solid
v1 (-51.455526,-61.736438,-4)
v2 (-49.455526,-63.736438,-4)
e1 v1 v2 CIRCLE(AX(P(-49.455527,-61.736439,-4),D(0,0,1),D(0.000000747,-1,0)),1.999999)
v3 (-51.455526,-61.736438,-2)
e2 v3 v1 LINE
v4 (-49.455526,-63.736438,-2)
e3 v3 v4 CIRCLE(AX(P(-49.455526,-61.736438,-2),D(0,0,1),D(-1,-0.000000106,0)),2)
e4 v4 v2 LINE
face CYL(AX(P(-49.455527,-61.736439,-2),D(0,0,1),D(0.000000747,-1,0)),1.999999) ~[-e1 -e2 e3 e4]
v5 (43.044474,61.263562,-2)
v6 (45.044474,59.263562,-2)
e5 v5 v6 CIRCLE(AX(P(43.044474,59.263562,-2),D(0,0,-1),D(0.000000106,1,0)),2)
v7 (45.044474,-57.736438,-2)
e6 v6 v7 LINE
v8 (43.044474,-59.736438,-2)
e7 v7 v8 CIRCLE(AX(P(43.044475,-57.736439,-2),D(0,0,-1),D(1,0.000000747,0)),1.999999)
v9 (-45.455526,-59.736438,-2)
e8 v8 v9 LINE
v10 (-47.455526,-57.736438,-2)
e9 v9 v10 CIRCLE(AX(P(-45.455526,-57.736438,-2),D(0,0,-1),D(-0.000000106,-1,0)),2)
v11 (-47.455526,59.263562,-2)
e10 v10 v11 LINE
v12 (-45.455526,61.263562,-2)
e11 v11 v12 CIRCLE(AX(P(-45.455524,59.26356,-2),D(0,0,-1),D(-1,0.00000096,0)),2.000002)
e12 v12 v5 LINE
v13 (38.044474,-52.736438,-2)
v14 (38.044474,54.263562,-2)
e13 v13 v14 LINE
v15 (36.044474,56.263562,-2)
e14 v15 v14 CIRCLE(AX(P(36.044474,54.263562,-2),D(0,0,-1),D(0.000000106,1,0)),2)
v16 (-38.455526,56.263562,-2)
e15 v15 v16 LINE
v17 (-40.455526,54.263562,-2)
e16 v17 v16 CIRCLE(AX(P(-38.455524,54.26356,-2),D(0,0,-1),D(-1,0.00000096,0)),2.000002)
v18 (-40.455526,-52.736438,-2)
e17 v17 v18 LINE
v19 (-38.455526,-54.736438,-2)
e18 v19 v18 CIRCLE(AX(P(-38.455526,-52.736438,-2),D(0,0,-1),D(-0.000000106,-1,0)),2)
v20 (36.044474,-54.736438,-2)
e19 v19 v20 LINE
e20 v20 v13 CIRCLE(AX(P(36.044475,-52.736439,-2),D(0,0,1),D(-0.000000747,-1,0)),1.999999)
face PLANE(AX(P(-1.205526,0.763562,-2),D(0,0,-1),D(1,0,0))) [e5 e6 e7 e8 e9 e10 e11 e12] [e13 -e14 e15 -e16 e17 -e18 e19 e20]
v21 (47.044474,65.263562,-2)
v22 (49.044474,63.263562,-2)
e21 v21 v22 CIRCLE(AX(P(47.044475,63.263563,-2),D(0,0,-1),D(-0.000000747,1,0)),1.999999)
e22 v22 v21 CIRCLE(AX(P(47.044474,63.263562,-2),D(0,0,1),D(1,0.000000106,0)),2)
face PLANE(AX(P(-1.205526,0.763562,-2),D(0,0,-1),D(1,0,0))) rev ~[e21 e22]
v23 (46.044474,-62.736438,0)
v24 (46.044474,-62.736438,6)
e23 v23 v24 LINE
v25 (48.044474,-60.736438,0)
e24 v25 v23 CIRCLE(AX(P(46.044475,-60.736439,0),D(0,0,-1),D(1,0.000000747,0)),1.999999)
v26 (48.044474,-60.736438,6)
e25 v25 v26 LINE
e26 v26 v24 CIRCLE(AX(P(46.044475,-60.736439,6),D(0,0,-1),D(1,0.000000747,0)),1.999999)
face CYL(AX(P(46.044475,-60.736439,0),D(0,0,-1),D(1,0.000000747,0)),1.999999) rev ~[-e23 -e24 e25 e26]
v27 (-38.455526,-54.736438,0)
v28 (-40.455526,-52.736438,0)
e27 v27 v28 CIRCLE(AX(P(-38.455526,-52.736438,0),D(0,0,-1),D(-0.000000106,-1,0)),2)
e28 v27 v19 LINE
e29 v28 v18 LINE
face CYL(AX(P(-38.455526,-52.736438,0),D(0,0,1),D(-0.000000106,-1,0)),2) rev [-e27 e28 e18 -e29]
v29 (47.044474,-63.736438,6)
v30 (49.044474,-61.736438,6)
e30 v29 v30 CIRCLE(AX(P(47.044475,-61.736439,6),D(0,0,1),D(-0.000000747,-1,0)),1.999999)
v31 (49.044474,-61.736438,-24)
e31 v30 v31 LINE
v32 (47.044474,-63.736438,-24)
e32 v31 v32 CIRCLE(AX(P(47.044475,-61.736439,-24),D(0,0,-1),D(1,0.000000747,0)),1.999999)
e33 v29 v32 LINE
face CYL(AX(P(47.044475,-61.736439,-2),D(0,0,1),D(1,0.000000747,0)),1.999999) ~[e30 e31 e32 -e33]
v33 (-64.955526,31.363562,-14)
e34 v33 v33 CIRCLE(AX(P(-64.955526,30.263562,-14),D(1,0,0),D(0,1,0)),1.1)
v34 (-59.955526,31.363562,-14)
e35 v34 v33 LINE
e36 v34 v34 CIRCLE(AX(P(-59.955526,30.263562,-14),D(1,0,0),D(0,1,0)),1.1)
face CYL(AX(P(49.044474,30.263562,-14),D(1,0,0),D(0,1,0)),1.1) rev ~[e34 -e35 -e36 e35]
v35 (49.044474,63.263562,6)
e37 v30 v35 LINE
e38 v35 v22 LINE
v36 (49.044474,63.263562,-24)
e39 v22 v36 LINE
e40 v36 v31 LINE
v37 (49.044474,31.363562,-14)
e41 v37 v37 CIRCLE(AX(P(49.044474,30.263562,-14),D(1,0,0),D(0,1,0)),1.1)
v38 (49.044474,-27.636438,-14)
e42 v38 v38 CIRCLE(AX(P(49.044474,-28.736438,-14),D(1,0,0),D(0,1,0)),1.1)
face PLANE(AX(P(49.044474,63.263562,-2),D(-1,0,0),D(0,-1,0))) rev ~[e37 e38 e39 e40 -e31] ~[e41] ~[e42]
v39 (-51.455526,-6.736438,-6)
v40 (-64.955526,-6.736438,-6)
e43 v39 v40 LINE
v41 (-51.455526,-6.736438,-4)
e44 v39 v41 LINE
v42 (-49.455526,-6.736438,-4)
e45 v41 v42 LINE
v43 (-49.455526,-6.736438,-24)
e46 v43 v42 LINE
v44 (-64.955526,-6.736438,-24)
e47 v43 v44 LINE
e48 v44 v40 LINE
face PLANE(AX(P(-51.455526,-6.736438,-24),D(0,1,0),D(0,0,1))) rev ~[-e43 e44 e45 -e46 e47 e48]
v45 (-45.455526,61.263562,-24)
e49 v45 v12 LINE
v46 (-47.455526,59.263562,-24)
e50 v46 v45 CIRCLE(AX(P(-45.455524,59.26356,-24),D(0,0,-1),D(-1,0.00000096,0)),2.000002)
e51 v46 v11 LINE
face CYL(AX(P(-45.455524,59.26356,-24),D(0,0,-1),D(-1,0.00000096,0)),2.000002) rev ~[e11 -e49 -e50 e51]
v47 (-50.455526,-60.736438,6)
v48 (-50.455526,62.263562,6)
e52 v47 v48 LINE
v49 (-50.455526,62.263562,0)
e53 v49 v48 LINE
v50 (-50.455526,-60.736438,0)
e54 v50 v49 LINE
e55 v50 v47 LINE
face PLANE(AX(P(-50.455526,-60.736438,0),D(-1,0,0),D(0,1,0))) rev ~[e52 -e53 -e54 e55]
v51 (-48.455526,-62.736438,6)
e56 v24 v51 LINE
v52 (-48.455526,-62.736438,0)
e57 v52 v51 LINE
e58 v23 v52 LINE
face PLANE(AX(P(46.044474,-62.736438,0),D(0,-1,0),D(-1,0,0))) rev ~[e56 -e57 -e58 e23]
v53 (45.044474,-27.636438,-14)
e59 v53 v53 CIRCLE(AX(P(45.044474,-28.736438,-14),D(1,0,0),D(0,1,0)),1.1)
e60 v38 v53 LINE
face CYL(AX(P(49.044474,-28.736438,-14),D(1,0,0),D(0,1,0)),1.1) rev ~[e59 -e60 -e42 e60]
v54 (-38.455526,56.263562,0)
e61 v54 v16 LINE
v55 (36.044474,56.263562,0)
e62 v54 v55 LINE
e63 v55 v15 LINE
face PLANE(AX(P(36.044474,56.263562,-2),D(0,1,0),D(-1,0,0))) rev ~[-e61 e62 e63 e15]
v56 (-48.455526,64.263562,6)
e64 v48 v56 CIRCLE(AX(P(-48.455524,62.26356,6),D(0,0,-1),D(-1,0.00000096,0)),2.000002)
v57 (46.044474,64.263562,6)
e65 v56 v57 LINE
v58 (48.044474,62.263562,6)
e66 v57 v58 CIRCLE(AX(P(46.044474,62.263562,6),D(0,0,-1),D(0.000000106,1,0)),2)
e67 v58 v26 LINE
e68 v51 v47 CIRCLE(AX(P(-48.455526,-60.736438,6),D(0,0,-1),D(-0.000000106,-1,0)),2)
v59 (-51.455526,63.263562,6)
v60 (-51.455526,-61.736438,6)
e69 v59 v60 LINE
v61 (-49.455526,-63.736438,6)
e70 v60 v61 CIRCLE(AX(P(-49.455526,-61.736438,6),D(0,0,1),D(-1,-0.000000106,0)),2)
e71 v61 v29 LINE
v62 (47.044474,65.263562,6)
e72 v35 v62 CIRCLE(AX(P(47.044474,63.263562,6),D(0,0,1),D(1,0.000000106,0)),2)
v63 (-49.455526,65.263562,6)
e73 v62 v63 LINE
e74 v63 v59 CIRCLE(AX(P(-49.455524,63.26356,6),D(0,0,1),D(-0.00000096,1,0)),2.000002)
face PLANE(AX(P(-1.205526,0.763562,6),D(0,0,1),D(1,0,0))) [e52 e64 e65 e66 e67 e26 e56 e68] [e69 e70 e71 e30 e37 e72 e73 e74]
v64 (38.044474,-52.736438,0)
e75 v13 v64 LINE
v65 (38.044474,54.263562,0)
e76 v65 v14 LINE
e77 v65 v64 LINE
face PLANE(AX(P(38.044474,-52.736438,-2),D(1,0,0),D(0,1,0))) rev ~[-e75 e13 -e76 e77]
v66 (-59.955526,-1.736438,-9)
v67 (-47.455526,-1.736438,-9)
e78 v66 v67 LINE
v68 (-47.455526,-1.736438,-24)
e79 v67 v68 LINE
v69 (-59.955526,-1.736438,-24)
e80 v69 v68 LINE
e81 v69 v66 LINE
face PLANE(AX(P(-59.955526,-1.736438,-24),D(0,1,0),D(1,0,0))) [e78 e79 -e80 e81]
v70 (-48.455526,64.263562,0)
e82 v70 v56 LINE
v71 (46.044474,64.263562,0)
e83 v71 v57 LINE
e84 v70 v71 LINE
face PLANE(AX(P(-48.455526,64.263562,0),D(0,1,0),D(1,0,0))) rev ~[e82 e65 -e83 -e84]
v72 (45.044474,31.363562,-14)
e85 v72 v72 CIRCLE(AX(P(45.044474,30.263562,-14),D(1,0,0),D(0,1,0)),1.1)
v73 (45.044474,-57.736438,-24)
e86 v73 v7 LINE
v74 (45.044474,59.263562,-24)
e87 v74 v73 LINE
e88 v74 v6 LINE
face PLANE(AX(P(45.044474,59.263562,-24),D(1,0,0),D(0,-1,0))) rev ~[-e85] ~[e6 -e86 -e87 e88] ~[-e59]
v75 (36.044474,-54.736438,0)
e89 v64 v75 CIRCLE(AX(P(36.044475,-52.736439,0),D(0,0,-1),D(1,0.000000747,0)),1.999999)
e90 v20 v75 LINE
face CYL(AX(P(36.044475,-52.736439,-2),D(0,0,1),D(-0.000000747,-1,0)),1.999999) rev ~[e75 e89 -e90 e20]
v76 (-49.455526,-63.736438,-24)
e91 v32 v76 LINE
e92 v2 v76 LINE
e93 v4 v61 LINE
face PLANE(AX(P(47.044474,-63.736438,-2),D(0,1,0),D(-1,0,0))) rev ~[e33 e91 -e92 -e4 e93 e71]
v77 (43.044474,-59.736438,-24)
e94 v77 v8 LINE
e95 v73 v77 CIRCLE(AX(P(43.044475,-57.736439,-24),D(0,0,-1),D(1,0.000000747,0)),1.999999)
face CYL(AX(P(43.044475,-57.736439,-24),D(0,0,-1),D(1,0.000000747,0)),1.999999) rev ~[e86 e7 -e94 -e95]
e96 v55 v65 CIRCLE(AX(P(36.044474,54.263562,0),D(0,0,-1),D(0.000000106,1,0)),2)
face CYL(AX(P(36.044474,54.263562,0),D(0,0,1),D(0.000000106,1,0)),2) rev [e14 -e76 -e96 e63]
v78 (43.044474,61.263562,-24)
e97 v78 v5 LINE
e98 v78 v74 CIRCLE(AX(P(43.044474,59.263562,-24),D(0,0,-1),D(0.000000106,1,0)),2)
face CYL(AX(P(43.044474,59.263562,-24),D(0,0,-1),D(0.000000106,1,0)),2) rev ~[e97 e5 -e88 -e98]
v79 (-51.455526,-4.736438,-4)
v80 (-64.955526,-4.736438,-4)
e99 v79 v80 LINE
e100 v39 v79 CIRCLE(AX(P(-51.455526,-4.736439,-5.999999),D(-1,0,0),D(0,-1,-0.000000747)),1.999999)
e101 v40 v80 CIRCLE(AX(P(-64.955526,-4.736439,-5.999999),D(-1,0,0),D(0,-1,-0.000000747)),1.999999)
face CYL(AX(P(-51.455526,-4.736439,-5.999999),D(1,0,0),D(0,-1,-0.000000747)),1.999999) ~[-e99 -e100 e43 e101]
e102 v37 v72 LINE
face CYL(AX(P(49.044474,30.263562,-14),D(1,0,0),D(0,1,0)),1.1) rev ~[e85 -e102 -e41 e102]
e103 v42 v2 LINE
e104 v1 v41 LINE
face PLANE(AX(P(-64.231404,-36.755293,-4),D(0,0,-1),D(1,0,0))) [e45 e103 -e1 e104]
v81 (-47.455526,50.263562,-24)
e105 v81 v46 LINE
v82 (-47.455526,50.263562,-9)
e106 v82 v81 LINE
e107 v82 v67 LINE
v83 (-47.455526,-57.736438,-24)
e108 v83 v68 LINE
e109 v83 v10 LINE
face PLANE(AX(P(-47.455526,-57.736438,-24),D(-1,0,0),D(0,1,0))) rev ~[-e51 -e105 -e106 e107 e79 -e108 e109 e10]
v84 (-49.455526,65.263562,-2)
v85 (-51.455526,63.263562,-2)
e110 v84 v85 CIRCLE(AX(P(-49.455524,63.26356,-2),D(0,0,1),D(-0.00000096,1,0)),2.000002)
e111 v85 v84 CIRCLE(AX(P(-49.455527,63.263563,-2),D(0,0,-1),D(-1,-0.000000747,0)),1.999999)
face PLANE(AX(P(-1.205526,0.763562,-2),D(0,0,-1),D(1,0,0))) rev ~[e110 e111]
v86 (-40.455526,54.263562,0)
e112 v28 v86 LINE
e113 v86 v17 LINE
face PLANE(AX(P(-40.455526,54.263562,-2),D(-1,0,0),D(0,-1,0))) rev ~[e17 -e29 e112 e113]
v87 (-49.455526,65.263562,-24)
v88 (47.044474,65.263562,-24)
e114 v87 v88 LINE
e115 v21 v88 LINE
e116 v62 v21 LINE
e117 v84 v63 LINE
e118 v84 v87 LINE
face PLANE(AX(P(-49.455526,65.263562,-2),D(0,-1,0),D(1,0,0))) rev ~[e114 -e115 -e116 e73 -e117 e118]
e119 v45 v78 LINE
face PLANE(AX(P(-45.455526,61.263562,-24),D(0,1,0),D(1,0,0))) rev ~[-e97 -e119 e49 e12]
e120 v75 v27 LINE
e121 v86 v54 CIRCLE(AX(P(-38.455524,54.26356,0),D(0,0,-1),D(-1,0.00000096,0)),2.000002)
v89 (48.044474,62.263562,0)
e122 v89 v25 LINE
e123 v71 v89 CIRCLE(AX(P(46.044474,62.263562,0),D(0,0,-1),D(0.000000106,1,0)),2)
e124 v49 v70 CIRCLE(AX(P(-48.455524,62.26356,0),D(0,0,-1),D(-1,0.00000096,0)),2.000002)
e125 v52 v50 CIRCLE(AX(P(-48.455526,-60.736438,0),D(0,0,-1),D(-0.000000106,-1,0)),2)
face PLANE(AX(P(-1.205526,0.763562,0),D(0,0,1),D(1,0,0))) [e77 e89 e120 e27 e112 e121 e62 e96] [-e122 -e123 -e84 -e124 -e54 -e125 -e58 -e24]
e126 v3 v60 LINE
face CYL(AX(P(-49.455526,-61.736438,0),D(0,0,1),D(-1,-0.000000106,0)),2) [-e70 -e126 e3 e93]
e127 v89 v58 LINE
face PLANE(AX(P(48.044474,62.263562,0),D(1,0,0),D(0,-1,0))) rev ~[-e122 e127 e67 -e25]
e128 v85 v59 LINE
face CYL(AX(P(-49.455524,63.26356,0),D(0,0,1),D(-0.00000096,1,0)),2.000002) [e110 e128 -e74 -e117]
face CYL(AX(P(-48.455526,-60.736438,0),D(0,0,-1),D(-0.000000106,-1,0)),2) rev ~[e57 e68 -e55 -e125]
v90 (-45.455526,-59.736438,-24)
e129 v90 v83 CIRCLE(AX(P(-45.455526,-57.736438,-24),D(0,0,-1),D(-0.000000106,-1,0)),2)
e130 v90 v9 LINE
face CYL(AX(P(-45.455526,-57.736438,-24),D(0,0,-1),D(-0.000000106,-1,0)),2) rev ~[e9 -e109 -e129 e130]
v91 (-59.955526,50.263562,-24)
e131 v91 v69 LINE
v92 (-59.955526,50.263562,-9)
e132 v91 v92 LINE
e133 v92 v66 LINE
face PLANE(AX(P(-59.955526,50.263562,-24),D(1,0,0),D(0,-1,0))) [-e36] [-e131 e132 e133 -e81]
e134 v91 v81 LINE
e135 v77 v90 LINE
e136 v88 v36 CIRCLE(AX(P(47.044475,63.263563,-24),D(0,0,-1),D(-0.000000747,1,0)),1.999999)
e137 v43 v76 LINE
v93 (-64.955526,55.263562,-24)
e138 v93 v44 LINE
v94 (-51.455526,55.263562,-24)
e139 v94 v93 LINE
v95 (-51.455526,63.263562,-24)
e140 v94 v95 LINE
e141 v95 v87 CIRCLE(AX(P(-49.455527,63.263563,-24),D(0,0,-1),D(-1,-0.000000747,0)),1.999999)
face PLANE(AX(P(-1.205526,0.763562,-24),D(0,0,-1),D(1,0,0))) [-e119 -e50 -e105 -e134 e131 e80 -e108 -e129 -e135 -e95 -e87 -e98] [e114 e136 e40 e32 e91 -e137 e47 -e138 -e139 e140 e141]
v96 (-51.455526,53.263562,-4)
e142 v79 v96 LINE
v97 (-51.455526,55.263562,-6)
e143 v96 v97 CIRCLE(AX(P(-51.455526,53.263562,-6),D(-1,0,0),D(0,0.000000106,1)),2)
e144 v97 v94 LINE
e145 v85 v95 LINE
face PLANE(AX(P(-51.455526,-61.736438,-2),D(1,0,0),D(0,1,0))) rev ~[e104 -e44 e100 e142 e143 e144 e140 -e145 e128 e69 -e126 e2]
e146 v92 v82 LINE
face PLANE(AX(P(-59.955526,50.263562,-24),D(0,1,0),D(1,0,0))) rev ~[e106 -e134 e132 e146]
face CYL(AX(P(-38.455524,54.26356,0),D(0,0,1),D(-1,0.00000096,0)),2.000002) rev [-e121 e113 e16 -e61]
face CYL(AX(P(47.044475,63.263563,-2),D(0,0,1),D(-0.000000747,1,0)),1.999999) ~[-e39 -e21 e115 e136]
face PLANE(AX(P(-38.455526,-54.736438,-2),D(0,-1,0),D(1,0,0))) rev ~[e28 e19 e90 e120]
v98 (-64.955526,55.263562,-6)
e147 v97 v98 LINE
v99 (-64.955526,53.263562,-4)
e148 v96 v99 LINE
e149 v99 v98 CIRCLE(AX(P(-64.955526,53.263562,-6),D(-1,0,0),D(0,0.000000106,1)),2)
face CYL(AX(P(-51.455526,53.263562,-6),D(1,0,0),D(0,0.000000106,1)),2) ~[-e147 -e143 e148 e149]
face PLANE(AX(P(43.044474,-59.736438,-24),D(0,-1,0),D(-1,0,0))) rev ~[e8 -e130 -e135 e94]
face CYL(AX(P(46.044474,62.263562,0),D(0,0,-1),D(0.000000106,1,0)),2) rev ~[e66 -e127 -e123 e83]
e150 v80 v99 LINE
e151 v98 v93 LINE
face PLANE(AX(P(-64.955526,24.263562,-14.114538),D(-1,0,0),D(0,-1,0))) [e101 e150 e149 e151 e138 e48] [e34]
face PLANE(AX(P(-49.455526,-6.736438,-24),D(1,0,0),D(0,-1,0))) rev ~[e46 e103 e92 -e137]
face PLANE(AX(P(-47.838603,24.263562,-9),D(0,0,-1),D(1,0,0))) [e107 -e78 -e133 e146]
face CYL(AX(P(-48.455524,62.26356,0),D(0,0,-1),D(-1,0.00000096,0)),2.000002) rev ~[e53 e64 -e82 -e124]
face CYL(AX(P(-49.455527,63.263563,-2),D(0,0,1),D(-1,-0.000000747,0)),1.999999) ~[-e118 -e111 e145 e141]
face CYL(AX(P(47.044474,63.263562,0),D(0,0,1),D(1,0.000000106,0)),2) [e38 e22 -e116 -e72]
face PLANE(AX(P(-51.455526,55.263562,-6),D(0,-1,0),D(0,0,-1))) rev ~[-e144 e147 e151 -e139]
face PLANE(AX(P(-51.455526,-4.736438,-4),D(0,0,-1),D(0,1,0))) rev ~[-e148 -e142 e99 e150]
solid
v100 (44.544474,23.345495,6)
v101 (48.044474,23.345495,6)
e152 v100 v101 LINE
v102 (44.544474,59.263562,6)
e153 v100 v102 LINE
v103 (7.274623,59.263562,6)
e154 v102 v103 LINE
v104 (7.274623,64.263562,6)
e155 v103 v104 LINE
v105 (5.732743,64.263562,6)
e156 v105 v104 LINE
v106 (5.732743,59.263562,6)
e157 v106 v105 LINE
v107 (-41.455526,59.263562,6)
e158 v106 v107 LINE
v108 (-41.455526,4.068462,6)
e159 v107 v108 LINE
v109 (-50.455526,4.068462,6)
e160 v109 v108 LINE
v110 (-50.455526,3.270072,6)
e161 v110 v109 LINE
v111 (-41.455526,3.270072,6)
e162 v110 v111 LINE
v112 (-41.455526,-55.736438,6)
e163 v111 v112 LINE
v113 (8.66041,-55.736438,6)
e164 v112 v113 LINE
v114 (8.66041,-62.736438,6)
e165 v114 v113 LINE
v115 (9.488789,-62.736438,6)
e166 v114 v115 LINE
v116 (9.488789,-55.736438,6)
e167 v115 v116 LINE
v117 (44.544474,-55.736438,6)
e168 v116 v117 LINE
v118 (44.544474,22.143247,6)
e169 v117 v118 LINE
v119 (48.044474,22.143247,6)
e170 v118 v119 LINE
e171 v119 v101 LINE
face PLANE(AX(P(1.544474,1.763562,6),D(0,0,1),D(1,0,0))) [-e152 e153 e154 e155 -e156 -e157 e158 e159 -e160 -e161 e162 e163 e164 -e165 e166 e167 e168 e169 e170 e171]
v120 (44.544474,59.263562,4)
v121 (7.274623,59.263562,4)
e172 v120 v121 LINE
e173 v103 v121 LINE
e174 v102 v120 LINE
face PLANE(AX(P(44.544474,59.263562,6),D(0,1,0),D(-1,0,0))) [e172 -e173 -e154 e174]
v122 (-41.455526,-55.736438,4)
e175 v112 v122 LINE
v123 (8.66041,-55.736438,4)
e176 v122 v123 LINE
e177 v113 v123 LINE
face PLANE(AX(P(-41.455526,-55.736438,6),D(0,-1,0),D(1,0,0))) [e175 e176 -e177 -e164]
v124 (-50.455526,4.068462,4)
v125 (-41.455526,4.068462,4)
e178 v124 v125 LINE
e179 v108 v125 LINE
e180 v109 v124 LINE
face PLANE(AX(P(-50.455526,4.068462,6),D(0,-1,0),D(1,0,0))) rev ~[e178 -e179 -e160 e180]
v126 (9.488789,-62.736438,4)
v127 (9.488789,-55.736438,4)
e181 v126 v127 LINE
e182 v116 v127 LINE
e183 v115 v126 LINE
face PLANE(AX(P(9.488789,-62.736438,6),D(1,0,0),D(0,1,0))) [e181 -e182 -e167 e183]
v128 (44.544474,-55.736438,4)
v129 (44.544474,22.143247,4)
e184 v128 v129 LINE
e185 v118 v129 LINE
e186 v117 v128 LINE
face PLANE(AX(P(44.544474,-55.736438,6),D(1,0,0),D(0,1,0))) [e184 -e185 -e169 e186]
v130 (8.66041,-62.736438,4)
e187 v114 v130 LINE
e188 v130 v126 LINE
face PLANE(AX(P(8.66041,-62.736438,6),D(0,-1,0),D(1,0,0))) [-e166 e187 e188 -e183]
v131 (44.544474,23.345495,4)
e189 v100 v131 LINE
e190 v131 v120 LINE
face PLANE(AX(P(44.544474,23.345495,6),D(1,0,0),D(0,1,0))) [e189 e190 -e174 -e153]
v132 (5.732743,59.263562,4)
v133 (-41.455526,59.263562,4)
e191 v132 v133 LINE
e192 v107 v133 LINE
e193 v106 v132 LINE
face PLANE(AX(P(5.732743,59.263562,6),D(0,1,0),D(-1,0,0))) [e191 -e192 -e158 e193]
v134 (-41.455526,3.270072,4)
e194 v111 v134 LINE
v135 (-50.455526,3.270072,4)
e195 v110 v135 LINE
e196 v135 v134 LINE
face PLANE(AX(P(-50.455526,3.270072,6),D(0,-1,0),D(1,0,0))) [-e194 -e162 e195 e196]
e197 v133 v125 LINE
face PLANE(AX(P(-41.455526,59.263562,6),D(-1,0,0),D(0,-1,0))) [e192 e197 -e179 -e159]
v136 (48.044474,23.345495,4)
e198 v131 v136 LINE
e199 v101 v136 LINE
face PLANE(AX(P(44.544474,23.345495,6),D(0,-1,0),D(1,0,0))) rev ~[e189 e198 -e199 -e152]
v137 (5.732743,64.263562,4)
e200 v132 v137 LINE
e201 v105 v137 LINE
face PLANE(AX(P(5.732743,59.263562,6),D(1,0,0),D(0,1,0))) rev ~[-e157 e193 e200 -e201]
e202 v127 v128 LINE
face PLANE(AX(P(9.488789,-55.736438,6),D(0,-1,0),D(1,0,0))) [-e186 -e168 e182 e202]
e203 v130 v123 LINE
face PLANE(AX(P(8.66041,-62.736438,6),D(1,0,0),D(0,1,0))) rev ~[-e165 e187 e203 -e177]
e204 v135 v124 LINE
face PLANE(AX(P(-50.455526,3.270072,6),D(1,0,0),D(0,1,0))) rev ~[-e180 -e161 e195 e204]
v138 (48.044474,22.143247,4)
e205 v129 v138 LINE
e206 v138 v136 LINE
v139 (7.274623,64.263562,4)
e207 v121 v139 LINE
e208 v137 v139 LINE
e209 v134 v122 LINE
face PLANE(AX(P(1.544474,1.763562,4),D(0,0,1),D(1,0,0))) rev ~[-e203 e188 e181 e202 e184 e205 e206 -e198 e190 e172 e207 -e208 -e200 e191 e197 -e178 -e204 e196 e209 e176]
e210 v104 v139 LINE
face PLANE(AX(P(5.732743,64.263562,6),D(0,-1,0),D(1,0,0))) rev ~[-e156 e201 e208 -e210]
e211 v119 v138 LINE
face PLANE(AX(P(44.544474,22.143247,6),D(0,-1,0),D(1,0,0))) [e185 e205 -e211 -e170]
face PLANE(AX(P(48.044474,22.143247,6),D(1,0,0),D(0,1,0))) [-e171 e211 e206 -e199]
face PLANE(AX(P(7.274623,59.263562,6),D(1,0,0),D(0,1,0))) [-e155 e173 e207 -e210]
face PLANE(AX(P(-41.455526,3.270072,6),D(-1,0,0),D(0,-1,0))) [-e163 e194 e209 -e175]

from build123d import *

# Parameters (mm, degrees)
F1_DEPTH  = 6
F3_DEPTH  = 2
F4_DEPTH  = 22
F6_DEPTH  = 22
F7_W      = 1.541879
F7_H      = 5
F7_W_2    = 9
F7_H_2    = 0.79839
F7_W_3    = 3.5
F7_H_3    = 1.202248
F7_W_4    = 0.828379
F7_H_4    = 7
F8_DEPTH  = 2
F10_DEPTH = 13.5
F11_W     = 29.551757
F11_H     = 60.03771
F12_DEPTH = 20
F13_W     = 24.233846
F13_H     = 52
F14_DEPTH = 15
F15_R     = 1.1
F17_DEPTH = 120
F16_R     = 1.1
F18_DEPTH = 25


with BuildPart() as f1:
    # F0 (on Top) → F1 (new body)
    with BuildSketch(Plane.XY):
        with BuildLine():
            Line((47.044474, 65.263562), (-49.455526, 65.263562))
            ThreePointArc((-49.455526, 65.263562), (-50.869739, 64.677775), (-51.455526, 63.263562))
            Line((-51.455526, 63.263562), (-51.455526, -61.736438))
            ThreePointArc((-51.455526, -61.736438), (-50.869739, -63.150652), (-49.455526, -63.736438))
            Line((-49.455526, -63.736438), (47.044474, -63.736438))
            ThreePointArc((47.044474, -63.736438), (48.458688, -63.150652), (49.044474, -61.736438))
            Line((49.044474, -61.736438), (49.044474, 63.263562))
            ThreePointArc((49.044474, 63.263562), (48.458688, 64.677775), (47.044474, 65.263562))
        make_face()
        with BuildLine():
            ThreePointArc((-50.455526, 62.263562), (-49.869739, 63.677775), (-48.455526, 64.263562))
            Line((-48.455526, 64.263562), (46.044474, 64.263562))
            ThreePointArc((46.044474, 64.263562), (47.458688, 63.677775), (48.044474, 62.263562))
            Line((48.044474, 62.263562), (48.044474, -60.736438))
            ThreePointArc((48.044474, -60.736438), (47.458688, -62.150652), (46.044474, -62.736438))
            Line((46.044474, -62.736438), (-48.455526, -62.736438))
            ThreePointArc((-48.455526, -62.736438), (-49.869739, -62.150652), (-50.455526, -60.736438))
            Line((-50.455526, -60.736438), (-50.455526, 62.263562))
        make_face(mode=Mode.SUBTRACT)
    extrude(amount=F1_DEPTH)

    # F2 (on Top) → F3 (join)
    with BuildSketch(Plane.XY):
        with BuildLine():
            Line((47.044474, 65.263562), (-49.455526, 65.263562))
            ThreePointArc((-49.455526, 65.263562), (-50.869739, 64.677775), (-51.455526, 63.263562))
            Line((-51.455526, 63.263562), (-51.455526, -61.736438))
            ThreePointArc((-51.455526, -61.736438), (-50.869739, -63.150652), (-49.455526, -63.736438))
            Line((-49.455526, -63.736438), (47.044474, -63.736438))
            ThreePointArc((47.044474, -63.736438), (48.458688, -63.150652), (49.044474, -61.736438))
            Line((49.044474, -61.736438), (49.044474, 63.263562))
            ThreePointArc((49.044474, 63.263562), (48.458688, 64.677775), (47.044474, 65.263562))
        make_face()
        with BuildLine():
            ThreePointArc((-40.455526, 54.263562), (-39.869739, 55.677775), (-38.455526, 56.263562))
            Line((-38.455526, 56.263562), (36.044474, 56.263562))
            ThreePointArc((36.044474, 56.263562), (37.458688, 55.677775), (38.044474, 54.263562))
            Line((38.044474, 54.263562), (38.044474, -52.736438))
            ThreePointArc((38.044474, -52.736438), (37.458688, -54.150652), (36.044474, -54.736438))
            Line((36.044474, -54.736438), (-38.455526, -54.736438))
            ThreePointArc((-38.455526, -54.736438), (-39.869739, -54.150652), (-40.455526, -52.736438))
            Line((-40.455526, -52.736438), (-40.455526, 54.263562))
        make_face(mode=Mode.SUBTRACT)
    extrude(amount=-F3_DEPTH)

    # F3_face (on face) → F4 (join)
    with BuildSketch(Plane(origin=(-1.205526, 0.763562, -2), x_dir=(1, 0, 0), z_dir=(0, 0, -1))):
        with BuildLine():
            Line((-48.25, -64.5), (48.25, -64.5))
            ThreePointArc((48.25, -64.5), (49.664214, -63.914214), (50.25, -62.5))
            Line((50.25, -62.5), (50.25, 62.5))
            ThreePointArc((50.25, 62.5), (49.664214, 63.914214), (48.25, 64.5))
            Line((48.25, 64.5), (-48.25, 64.5))
            ThreePointArc((-48.25, 64.5), (-49.664214, 63.914214), (-50.25, 62.5))
            Line((-50.25, 62.5), (-50.25, -62.5))
            ThreePointArc((-50.25, -62.5), (-49.664214, -63.914214), (-48.25, -64.5))
        make_face()
        with BuildLine():
            ThreePointArc((-39.25, 53.5), (-38.664214, 54.914214), (-37.25, 55.5))
            Line((-37.25, 55.5), (37.25, 55.5))
            ThreePointArc((37.25, 55.5), (38.664214, 54.914214), (39.25, 53.5))
            Line((39.25, 53.5), (39.25, -53.5))
            ThreePointArc((39.25, -53.5), (38.664214, -54.914214), (37.25, -55.5))
            Line((37.25, -55.5), (-37.25, -55.5))
            ThreePointArc((-37.25, -55.5), (-38.664214, -54.914214), (-39.25, -53.5))
            Line((-39.25, -53.5), (-39.25, 53.5))
        make_face(mode=Mode.SUBTRACT)
    extrude(amount=F4_DEPTH)

    # F5 (on face) → F6 (cut)
    with BuildSketch(Plane(origin=(0, 0, -24), x_dir=(1, 0, 0), z_dir=(0, 0, -1))):
        with BuildLine():
            Line((43.044474, 59.736438), (-45.455526, 59.736438))
            ThreePointArc((-45.455526, 59.736438), (-46.869739, 59.150652), (-47.455526, 57.736438))
            Line((-47.455526, 57.736438), (-47.455526, -59.263562))
            ThreePointArc((-47.455526, -59.263562), (-46.869739, -60.677775), (-45.455526, -61.263562))
            Line((-45.455526, -61.263562), (43.044474, -61.263562))
            ThreePointArc((43.044474, -61.263562), (44.458688, -60.677775), (45.044474, -59.263562))
            Line((45.044474, -59.263562), (45.044474, 57.736438))
            ThreePointArc((45.044474, 57.736438), (44.458688, 59.150652), (43.044474, 59.736438))
        make_face()
    extrude(amount=-F6_DEPTH, mode=Mode.SUBTRACT)

    # F9 (on face) → F10 (join)
    with BuildSketch(Plane(origin=(-51.455526, 0, 0), x_dir=(0, -1, 0), z_dir=(-1, 0, 0))):
        with BuildLine():
            Line((4.736438, -4), (-53.263562, -4))
            ThreePointArc((-53.263562, -4), (-54.677775, -4.585786), (-55.263562, -6))
            Line((-55.263562, -6), (-55.263562, -24))
            Line((-55.263562, -24), (6.736438, -24))
            Line((6.736438, -24), (6.736438, -6))
            ThreePointArc((6.736438, -6), (6.150652, -4.585786), (4.736438, -4))
        make_face()
    extrude(amount=F10_DEPTH)

    # F11 (on face) → F12 (cut)
    with BuildSketch(Plane(origin=(0, 0, -24), x_dir=(1, 0, 0), z_dir=(0, 0, -1))):
        with Locations((-64.231404, 36.755293)):
            Rectangle(F11_W, F11_H)
    extrude(amount=-F12_DEPTH, mode=Mode.SUBTRACT)

    # F13 (on face) → F14 (cut)
    with BuildSketch(Plane(origin=(0, 0, -24), x_dir=(1, 0, 0), z_dir=(0, 0, -1))):
        with Locations((-47.838603, -24.263562)):
            Rectangle(F13_W, F13_H)
    extrude(amount=-F14_DEPTH, mode=Mode.SUBTRACT)

    # F15 (on face) → F17 (cut)
    with BuildSketch(Plane.YZ.offset(49.044474)):
        with Locations((30.263562, -14)):
            Circle(F15_R)
    extrude(amount=-F17_DEPTH, mode=Mode.SUBTRACT)

    # F16 (on face) → F18 (cut)
    with BuildSketch(Plane.YZ.offset(49.044474)):
        with Locations((-28.736438, -14)):
            Circle(F16_R)
    extrude(amount=-F18_DEPTH, mode=Mode.SUBTRACT)


with BuildPart() as f8:
    # F7 (on face) → F8 (new body)
    with BuildSketch(Plane.XY.offset(6)):
        Polygon((5.732744, 59.263562), (-41.455526, 59.263562), (-41.455526, 4.068462), (-41.455526, 3.270072), (-41.455526, -55.736438), (8.660411, -55.736438), (9.48879, -55.736438), (44.544474, -55.736438), (44.544474, 22.143247), (44.544474, 23.345495), (44.544474, 59.263562), (7.274623, 59.263562), align=None)
        with Locations((6.503683, 61.763562)):
            Rectangle(F7_W, F7_H)
        with Locations((-45.955526, 3.669267)):
            Rectangle(F7_W_2, F7_H_2)
        with Locations((46.294474, 22.744371)):
            Rectangle(F7_W_3, F7_H_3)
        with Locations((9.0746, -59.236438)):
            Rectangle(F7_W_4, F7_H_4)
    extrude(amount=-F8_DEPTH)


solid = Compound([f1.part, f8.part])
